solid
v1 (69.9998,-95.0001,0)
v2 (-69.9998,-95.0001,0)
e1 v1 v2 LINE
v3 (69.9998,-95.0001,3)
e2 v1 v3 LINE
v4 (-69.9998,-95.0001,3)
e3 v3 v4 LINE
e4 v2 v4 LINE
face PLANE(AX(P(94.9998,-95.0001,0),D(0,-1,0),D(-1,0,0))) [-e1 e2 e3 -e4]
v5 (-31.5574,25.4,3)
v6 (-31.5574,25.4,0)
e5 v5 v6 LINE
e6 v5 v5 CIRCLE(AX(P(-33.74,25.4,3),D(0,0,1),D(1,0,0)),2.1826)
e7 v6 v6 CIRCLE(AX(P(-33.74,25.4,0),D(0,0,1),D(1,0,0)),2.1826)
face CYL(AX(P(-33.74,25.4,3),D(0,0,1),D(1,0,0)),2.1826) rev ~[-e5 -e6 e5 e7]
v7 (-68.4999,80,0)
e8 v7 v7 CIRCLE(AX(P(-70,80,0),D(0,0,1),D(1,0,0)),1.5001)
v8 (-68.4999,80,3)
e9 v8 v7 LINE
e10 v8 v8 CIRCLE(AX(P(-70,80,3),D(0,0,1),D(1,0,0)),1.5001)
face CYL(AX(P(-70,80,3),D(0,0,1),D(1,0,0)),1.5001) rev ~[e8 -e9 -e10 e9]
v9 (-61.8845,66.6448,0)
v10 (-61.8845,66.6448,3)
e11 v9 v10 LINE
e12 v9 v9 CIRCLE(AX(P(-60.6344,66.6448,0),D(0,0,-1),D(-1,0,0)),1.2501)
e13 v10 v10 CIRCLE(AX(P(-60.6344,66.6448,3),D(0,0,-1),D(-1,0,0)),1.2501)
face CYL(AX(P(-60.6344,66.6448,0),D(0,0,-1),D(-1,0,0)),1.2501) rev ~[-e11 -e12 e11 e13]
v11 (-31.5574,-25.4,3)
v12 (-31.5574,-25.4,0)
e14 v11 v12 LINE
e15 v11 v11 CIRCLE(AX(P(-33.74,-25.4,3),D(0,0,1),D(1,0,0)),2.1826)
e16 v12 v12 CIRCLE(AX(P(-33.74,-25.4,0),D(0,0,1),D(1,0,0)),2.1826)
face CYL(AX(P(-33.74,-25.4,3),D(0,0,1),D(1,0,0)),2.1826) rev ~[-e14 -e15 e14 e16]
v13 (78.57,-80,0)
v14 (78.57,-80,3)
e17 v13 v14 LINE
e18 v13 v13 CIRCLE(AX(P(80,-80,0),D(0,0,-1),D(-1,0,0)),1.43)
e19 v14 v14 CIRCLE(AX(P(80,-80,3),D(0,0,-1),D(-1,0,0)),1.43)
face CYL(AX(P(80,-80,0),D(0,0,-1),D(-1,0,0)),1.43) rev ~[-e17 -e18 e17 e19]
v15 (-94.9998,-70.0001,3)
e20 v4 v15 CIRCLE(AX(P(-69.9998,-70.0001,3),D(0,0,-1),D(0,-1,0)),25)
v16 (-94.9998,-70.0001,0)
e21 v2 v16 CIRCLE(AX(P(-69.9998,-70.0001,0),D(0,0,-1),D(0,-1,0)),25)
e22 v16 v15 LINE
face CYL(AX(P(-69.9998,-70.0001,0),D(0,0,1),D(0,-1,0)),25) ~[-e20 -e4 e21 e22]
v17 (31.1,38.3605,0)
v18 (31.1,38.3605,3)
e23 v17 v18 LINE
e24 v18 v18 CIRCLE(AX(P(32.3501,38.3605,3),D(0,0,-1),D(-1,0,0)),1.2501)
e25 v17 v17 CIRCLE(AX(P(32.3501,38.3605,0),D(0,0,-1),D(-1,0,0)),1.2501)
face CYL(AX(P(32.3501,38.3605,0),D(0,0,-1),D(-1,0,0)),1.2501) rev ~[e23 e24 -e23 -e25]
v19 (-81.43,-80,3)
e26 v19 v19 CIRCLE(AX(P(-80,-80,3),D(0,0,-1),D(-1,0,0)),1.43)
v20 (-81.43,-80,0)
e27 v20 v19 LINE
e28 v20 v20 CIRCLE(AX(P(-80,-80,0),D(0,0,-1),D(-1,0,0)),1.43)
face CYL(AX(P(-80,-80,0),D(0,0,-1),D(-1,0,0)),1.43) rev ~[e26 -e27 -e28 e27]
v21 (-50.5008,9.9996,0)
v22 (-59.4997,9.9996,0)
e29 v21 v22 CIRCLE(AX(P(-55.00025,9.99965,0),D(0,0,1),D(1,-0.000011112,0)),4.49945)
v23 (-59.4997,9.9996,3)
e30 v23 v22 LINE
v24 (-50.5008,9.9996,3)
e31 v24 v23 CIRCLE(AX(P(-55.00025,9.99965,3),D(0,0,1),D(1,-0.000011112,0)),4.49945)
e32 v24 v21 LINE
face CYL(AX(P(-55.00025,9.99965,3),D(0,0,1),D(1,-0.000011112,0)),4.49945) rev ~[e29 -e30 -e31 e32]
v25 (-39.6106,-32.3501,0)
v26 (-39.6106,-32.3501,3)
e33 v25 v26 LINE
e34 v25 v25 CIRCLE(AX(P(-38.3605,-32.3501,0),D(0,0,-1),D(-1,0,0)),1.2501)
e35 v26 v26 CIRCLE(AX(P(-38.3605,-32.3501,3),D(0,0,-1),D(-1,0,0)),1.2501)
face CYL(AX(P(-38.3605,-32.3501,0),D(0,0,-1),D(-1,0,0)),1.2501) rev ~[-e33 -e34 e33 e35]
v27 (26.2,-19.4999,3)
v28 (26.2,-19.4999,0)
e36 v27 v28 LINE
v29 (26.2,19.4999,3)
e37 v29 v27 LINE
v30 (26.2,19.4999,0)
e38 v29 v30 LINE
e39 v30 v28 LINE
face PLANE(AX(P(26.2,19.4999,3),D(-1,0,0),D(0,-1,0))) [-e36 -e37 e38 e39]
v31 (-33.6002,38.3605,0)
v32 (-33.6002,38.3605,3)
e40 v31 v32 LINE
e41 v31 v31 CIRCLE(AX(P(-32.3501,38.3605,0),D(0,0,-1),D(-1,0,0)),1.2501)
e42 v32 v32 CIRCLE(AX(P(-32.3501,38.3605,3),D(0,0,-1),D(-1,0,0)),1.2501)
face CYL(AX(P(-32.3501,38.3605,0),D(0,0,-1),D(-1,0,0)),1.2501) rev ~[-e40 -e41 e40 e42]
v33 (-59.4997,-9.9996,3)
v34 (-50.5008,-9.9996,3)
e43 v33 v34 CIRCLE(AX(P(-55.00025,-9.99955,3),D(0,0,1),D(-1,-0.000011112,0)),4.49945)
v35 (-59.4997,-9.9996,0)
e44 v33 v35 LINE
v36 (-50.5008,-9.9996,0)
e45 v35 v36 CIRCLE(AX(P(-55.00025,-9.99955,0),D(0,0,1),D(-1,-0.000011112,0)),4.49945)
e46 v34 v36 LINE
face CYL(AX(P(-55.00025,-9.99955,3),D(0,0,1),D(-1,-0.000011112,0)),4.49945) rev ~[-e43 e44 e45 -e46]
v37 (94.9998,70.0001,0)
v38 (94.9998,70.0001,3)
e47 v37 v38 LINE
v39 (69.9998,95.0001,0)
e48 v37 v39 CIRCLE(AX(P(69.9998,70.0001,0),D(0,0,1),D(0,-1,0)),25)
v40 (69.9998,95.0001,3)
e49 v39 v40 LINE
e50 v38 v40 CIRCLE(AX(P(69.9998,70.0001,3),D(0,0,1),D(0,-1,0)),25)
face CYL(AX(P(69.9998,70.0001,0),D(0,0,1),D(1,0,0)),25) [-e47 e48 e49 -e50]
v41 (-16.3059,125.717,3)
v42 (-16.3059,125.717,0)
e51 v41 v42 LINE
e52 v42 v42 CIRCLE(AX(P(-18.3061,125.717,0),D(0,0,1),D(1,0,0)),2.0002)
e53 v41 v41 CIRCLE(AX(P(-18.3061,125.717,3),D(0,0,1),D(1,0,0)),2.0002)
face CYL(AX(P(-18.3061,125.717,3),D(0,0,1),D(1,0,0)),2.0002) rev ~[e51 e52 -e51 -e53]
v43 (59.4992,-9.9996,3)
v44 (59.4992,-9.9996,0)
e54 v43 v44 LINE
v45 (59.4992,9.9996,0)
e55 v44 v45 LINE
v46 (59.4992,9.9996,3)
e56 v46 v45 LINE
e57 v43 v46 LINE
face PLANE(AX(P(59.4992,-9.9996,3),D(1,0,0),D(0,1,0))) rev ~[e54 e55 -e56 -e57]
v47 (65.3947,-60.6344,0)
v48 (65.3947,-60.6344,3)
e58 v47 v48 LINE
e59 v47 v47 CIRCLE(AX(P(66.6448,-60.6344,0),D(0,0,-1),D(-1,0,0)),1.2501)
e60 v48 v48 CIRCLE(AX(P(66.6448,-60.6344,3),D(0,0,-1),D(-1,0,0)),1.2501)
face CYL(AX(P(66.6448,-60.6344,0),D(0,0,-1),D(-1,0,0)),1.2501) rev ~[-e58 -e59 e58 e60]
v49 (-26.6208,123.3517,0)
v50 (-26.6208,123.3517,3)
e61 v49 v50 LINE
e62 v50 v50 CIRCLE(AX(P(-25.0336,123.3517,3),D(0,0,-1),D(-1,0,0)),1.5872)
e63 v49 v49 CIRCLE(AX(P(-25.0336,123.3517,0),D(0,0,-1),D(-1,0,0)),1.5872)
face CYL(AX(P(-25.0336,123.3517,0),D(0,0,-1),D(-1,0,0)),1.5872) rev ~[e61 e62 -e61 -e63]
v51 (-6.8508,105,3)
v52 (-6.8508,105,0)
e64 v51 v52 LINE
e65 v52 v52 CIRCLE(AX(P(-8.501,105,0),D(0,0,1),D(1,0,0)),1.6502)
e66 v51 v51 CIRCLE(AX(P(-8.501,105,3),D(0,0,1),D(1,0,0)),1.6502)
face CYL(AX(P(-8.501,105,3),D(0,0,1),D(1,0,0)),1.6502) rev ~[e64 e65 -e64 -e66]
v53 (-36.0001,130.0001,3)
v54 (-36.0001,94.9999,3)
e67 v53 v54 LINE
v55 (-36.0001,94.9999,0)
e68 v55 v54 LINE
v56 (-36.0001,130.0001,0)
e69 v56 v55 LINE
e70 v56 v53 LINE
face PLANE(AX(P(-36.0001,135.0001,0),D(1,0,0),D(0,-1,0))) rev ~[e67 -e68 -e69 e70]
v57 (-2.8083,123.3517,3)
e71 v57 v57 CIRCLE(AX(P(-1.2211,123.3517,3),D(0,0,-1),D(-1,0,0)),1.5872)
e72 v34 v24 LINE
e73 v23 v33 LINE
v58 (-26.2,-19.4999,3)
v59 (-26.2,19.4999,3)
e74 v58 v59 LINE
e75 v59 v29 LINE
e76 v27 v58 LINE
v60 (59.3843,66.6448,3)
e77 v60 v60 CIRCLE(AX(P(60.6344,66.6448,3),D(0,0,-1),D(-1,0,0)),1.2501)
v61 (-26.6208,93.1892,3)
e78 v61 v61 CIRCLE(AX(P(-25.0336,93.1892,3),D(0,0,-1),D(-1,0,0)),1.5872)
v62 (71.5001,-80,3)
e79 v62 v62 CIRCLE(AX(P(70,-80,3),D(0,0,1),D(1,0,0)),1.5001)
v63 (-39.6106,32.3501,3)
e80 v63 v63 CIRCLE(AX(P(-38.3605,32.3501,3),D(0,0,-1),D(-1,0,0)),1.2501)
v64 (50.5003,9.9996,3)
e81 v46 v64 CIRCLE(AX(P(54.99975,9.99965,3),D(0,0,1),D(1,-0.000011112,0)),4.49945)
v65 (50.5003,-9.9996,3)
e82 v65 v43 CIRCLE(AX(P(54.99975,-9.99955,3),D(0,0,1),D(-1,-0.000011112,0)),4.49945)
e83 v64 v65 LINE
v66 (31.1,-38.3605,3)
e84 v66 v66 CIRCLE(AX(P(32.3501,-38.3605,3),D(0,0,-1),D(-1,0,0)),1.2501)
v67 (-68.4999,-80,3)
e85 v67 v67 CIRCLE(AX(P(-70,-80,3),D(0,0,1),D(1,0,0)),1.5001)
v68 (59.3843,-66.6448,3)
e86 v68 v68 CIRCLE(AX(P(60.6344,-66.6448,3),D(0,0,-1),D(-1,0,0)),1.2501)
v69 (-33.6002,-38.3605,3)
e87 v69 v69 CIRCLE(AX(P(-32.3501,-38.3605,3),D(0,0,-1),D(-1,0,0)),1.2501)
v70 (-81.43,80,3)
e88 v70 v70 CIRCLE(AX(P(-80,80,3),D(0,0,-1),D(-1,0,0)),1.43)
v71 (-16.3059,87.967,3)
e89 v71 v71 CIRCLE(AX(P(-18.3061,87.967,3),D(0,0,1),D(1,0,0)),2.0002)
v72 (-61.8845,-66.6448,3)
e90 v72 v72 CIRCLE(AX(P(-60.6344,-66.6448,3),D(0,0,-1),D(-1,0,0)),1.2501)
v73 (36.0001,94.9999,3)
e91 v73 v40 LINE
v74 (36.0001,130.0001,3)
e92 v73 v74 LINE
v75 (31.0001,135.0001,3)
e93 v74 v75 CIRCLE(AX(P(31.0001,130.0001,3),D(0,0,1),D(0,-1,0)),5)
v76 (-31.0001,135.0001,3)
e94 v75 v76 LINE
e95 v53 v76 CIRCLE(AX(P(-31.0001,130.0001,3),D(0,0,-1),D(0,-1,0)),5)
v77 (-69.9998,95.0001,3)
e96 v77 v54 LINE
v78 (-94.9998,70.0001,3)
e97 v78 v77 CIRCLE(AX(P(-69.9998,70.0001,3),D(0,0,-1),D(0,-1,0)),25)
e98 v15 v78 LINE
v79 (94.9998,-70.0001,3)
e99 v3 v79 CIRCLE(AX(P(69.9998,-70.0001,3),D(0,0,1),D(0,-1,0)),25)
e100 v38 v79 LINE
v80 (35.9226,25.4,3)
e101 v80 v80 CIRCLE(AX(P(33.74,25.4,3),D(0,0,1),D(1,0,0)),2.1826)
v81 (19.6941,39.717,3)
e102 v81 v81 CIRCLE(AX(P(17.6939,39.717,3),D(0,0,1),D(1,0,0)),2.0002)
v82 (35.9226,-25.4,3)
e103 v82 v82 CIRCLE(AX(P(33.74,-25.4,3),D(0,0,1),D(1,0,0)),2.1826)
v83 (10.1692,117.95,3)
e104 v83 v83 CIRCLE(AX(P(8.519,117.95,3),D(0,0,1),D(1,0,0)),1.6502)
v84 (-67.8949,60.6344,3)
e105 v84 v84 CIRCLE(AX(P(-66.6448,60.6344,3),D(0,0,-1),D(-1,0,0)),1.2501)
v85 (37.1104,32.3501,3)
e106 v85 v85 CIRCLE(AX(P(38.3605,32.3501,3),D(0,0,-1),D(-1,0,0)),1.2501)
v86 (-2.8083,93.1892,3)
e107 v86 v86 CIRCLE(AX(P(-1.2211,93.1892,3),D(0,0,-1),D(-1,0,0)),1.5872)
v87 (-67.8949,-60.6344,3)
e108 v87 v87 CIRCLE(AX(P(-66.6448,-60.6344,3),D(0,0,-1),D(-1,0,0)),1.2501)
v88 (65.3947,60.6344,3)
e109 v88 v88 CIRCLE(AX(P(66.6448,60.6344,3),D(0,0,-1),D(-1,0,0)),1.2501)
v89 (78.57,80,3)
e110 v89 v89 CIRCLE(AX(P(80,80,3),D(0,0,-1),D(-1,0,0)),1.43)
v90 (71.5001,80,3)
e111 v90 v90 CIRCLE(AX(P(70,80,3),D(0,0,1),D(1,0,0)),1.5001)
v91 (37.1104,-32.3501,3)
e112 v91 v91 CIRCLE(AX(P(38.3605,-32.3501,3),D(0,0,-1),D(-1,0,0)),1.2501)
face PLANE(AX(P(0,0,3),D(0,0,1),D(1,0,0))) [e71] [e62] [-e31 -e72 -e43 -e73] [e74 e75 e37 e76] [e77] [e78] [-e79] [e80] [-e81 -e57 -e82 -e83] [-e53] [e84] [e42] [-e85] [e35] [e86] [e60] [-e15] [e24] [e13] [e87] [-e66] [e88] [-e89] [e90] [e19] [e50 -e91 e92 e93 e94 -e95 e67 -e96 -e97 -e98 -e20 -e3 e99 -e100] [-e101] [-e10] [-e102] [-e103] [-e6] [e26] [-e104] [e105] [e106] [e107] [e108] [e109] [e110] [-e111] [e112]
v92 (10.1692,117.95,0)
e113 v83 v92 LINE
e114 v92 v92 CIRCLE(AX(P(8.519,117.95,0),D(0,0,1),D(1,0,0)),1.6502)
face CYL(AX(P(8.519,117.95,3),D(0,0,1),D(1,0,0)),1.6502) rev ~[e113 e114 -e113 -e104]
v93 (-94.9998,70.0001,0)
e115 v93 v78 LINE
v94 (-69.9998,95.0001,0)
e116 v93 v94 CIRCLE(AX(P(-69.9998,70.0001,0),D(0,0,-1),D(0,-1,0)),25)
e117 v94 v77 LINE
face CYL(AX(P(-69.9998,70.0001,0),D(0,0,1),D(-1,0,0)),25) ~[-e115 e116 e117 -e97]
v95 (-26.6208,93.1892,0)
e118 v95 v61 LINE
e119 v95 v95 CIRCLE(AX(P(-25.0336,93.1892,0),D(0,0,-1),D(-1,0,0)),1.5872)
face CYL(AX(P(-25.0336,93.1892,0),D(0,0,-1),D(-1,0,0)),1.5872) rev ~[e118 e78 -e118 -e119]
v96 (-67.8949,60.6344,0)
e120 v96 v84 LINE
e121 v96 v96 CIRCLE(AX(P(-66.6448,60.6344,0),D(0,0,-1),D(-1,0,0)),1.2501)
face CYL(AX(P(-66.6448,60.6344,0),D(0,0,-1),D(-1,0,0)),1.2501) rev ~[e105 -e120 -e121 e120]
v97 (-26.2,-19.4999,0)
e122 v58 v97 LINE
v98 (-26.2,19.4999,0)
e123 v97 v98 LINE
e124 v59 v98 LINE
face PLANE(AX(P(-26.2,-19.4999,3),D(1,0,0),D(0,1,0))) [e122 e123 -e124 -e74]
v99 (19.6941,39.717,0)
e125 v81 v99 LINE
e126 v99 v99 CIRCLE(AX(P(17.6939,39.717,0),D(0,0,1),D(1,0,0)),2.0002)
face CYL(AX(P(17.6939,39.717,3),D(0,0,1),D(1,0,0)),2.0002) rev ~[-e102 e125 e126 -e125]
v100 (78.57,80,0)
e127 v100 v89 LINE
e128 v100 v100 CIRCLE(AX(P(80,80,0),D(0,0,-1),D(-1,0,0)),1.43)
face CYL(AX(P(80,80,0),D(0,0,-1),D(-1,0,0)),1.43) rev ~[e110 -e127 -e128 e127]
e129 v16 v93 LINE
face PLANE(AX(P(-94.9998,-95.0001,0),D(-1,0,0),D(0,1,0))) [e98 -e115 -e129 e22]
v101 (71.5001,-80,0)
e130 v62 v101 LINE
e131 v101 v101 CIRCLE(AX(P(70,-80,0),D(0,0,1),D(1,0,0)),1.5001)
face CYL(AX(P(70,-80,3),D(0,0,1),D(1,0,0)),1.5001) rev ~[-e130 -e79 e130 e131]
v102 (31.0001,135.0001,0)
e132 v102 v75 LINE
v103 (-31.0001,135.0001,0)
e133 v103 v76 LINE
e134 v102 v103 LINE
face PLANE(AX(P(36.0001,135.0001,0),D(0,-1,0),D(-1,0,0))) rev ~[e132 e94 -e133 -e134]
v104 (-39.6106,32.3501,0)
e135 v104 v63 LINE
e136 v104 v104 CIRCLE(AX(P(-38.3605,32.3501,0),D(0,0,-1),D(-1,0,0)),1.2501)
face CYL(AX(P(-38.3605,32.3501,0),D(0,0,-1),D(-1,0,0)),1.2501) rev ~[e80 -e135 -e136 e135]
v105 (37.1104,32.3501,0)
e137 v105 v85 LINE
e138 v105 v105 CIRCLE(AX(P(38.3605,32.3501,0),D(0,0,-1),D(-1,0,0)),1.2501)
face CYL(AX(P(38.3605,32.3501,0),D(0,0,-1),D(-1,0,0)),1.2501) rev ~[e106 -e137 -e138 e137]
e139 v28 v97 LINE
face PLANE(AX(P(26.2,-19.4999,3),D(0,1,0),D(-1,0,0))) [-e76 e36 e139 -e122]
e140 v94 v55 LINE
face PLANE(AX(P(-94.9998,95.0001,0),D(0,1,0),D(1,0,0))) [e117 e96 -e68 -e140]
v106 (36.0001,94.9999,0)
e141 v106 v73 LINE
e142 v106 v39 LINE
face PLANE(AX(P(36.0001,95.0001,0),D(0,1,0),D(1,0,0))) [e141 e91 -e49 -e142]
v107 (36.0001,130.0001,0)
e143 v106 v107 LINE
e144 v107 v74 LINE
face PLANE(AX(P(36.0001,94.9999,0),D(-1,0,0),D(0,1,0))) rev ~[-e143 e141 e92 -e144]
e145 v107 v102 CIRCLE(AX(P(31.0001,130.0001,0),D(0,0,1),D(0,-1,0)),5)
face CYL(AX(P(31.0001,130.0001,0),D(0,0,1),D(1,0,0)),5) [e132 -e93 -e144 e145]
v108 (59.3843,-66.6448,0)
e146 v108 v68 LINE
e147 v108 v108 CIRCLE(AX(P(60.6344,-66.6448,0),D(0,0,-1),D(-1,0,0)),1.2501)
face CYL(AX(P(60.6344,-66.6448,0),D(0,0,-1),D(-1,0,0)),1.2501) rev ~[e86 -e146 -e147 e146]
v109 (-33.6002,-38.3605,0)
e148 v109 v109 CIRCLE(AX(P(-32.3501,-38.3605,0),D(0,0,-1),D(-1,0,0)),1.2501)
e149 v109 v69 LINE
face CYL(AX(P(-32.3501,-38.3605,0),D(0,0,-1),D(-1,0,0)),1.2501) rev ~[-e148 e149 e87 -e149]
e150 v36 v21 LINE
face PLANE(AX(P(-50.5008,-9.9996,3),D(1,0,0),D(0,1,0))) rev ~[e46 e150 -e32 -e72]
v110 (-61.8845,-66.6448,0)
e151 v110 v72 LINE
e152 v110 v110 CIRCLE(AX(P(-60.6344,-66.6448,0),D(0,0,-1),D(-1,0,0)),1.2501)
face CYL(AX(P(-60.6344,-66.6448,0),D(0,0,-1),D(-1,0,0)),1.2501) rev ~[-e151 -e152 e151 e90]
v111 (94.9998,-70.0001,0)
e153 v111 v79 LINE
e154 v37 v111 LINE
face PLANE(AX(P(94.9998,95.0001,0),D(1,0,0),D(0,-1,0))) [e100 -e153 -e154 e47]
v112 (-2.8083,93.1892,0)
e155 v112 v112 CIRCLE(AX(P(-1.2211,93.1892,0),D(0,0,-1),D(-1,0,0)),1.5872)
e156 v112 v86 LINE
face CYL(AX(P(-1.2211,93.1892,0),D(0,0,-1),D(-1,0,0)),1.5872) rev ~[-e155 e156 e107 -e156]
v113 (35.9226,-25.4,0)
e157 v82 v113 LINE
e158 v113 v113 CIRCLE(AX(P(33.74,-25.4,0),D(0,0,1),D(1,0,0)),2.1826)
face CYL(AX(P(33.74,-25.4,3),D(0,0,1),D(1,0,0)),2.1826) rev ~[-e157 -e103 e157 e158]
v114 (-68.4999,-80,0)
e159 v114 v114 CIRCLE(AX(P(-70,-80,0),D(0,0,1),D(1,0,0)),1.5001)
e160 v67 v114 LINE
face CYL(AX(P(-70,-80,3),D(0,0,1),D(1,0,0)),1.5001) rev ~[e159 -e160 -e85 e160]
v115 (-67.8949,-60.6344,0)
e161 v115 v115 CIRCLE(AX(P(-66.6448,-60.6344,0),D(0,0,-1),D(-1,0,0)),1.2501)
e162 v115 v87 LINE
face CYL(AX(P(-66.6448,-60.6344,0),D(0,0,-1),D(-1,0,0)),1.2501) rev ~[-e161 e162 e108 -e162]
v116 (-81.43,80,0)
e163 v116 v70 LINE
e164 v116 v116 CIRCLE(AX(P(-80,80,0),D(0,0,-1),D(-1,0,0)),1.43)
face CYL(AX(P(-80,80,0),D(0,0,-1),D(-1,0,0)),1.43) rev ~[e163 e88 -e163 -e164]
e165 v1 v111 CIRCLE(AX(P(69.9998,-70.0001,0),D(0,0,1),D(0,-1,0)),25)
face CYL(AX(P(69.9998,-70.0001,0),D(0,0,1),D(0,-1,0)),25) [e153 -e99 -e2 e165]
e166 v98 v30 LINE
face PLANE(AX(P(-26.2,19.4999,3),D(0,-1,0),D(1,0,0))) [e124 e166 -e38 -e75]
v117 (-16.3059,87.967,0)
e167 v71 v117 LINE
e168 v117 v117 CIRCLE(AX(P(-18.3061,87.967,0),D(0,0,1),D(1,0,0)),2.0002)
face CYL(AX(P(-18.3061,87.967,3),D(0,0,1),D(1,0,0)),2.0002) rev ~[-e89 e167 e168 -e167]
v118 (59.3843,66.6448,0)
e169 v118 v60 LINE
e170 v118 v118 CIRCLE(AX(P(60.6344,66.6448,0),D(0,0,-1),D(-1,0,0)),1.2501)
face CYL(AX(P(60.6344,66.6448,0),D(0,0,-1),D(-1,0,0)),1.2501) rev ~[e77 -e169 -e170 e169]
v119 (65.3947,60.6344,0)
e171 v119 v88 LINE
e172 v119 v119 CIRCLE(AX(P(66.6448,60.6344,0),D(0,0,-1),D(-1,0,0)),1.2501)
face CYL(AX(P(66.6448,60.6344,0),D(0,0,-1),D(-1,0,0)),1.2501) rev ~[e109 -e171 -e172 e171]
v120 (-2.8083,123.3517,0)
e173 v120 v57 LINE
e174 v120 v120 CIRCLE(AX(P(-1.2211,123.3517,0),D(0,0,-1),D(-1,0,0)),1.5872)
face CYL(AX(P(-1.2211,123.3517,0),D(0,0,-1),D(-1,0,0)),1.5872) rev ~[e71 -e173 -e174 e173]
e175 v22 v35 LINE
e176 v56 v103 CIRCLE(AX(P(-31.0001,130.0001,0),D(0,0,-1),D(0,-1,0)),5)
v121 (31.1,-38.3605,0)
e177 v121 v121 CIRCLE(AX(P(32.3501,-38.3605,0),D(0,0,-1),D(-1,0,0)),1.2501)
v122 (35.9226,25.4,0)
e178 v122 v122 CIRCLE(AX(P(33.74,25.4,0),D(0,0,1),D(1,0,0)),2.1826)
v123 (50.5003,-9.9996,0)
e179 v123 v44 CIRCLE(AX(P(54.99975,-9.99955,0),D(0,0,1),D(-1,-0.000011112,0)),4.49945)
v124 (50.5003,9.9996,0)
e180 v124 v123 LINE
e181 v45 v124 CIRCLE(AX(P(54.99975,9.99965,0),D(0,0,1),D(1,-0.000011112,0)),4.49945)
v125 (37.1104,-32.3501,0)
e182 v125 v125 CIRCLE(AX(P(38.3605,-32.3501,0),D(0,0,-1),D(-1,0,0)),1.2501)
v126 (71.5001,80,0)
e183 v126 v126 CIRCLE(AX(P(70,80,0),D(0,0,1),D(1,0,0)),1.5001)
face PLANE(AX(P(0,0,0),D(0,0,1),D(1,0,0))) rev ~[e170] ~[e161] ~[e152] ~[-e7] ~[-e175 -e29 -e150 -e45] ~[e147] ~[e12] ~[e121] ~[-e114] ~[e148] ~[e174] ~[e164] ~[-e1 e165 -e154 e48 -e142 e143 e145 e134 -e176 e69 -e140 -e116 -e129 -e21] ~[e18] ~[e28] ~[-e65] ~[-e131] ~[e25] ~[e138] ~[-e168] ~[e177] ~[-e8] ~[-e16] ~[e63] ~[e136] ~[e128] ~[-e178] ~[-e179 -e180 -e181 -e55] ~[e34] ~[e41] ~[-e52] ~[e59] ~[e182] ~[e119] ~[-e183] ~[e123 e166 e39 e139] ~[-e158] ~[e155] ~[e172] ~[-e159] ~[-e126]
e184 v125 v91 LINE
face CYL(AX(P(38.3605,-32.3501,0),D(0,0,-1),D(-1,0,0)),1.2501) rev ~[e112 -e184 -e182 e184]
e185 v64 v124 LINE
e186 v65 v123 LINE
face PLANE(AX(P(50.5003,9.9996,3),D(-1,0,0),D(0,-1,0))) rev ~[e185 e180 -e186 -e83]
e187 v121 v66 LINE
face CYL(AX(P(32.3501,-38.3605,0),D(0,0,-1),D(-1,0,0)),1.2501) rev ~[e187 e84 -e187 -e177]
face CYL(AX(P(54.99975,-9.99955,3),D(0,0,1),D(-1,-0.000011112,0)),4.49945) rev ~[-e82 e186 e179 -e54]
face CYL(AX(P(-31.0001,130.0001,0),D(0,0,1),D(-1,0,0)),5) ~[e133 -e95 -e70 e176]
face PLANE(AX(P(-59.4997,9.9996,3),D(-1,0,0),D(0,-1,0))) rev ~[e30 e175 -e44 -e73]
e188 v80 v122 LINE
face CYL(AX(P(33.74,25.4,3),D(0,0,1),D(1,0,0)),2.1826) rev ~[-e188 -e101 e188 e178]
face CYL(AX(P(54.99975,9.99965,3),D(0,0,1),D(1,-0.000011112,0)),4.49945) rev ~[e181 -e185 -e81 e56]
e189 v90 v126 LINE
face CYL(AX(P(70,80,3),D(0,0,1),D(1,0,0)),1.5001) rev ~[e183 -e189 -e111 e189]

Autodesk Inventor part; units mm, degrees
ref_plane "YZ Plane" through (0, 0, 0) normal (1, 0, 0) x (0, 1, 0)
ref_plane "XZ Plane" through (0, 0, 0) normal (0, 1, 0) x (-1, 0, 0)
ref_plane "XY Plane" through (0, 0, 0) normal (0, 0, 1) x (1, 0, 0)
sketch "Sketch1" plane through (0, 0, 0) normal (0, 0, 1) x (1, 0, 0)
  point P0 (0, 0)
sketch "Sketch2" plane through (0, 0, 0) normal (0, 0, 1) x (1, 0, 0)
  line L0 (94.9998, -95.0001) -> (-94.9998, -95.0001)
  line L1 (-94.9998, -95.0001) -> (-94.9998, 95.0001)
  line L2 (-94.9998, 95.0001) -> (94.9998, 95.0001)
  line L3 (94.9998, 95.0001) -> (94.9998, -95.0001)
  line L4 (94.9998, -95.0001) -> (-94.9998, 95.0001) construction
  line L5 (-94.9998, -95.0001) -> (94.9998, 95.0001) construction
  line L6 (-36.0001, 94.9999) -> (36.0001, 94.9999)
  line L7 (36.0001, 94.9999) -> (36.0001, 135.0001)
  line L8 (36.0001, 135.0001) -> (-36.0001, 135.0001)
  line L9 (-36.0001, 135.0001) -> (-36.0001, 94.9999)
  line L10 (-36.0001, 94.9999) -> (36.0001, 135.0001) construction
  line L11 (36.0001, 94.9999) -> (-36.0001, 135.0001) construction
  point P0 (0, 115)
  point P1 (-36.0001, 95.0001)
  point P2 (36.0001, 95.0001)
extrude "Extrusion1" add sketch "Sketch2" along normal blind 3
sketch "Standoff holes" plane through (0, 0, 3) normal (0, 0, 1) x (1, 0, 0)
  circle A0 centre (70, 80) radius 1.5001
  circle A1 centre (70, -80) radius 1.5001
  circle A2 centre (-70, 80) radius 1.5001
  circle A3 centre (-70, -80) radius 1.5001
extrude "Extrusion2" cut sketch "Standoff holes" against normal blind 3
fillet "Fillet5" radius 25 4 edges at (-94.9998, 95.0001, 1.5) (94.9998, 95.0001, 1.5) (-94.9998, -95.0001, 1.5) (94.9998, -95.0001, 1.5)
fillet "Fillet6" radius 5 2 edges at (-36.0001, 135.0001, 1.5) (36.0001, 135.0001, 1.5)
sketch "Large Hammond mount holes" plane through (0, 0, 3) normal (0, 0, 1) x (1, 0, 0)
  circle A0 centre (17.6939, 39.717) radius 2.0002
  circle A1 centre (-18.3061, 125.717) radius 2.0002
  circle A2 centre (-18.3061, 87.967) radius 2.0002
sketch "PX4FLOW mount holes" plane through (0, 0, 0) normal (0, 0, -1) x (-1, 0, 0)
  circle A0 centre (25.0336, 123.3517) radius 1.5872
  circle A1 centre (1.2211, 123.3517) radius 1.5872
  circle A2 centre (1.2211, 123.3517) radius 1.5872
  circle A3 centre (1.2211, 93.1892) radius 1.5872
  circle A4 centre (25.0336, 93.1892) radius 1.5872
sketch "Guard rails mount holes" plane through (0, 0, 0) normal (0, 0, -1) x (-1, 0, 0)
  circle A0 centre (-32.3501, 38.3605) radius 1.2501
  circle A1 centre (-38.3605, 32.3501) radius 1.2501
  circle A2 centre (-60.6344, 66.6448) radius 1.2501
  circle A3 centre (-66.6448, 60.6344) radius 1.2501
  circle A4 centre (-38.3605, -32.3501) radius 1.2501
  circle A5 centre (-32.3501, -38.3605) radius 1.2501
  circle A6 centre (-66.6448, -60.6344) radius 1.2501
  circle A7 centre (-60.6344, -66.6448) radius 1.2501
  circle A8 centre (32.3501, -38.3605) radius 1.2501
  circle A9 centre (38.3605, -32.3501) radius 1.2501
  circle A10 centre (60.6344, -66.6448) radius 1.2501
  circle A11 centre (66.6448, -60.6344) radius 1.2501
  circle A12 centre (38.3605, 32.3501) radius 1.2501
  circle A13 centre (32.3501, 38.3605) radius 1.2501
  circle A14 centre (66.6448, 60.6344) radius 1.2501
  circle A15 centre (60.6344, 66.6448) radius 1.2501
sketch "Imperial standoffs" plane through (0, 0, 0) normal (0, 0, -1) x (-1, 0, 0)
  circle A0 centre (80, 80) radius 1.43
  circle A1 centre (-80, 80) radius 1.43
  circle A2 centre (-80, -80) radius 1.43
  circle A3 centre (80, -80) radius 1.43
extrude "Extrusion4" cut sketch "Large Hammond mount holes" against normal blind 10
extrude "Extrusion5" cut sketch "PX4FLOW mount holes" against normal blind 10
extrude "Extrusion6" cut sketch "Guard rails mount holes" against normal blind 10
extrude "Extrusion7" cut sketch "Imperial standoffs" against normal blind 10
sketch "Dual pol balun cutout" plane through (0, 0, 3) normal (0, 0, 1) x (1, 0, 0)
  line L0 (26.2, -19.4999) -> (-26.2, -19.4999)
  line L1 (-26.2, -19.4999) -> (-26.2, 19.4999)
  line L2 (-26.2, 19.4999) -> (26.2, 19.4999)
  line L3 (26.2, 19.4999) -> (26.2, -19.4999)
  line L4 (26.2, -19.4999) -> (-26.2, 19.4999) construction
  line L5 (-26.2, -19.4999) -> (26.2, 19.4999) construction
  point P0 (0, 0)
extrude "Extrusion8" cut sketch "Dual pol balun cutout" against normal blind 10
sketch "SONAR_holes" plane through (0, 0, 3) normal (0, 0, 1) x (1, 0, 0)
  circle A0 centre (-8.501, 105) radius 1.6502
  circle A1 centre (8.519, 117.95) radius 1.6502
extrude "Extrusion9" cut sketch "SONAR_holes" against normal blind 10
sketch "SONAR cutouts" plane through (0, 0, 3) normal (0, 0, 1) x (1, 0, 0)
  line L0 (-55.0003, -9.9996) -> (-55.0003, 9.9996) construction
  line L1 (-50.5008, -9.9996) -> (-50.5008, 9.9996)
  line L2 (-59.4997, 9.9996) -> (-59.4997, -9.9996)
  arc A0 (-59.4997, -9.9996) -> (-50.5008, -9.9996) centre (-55.0003, -9.9996) ccw
  arc A1 (-50.5008, 9.9996) -> (-59.4997, 9.9996) centre (-55.0003, 9.9996) ccw
  line L3 (54.9997, -9.9996) -> (54.9997, 9.9996) construction
  line L4 (59.4992, -9.9996) -> (59.4992, 9.9996)
  line L5 (50.5003, 9.9996) -> (50.5003, -9.9996)
  arc A2 (50.5003, -9.9996) -> (59.4992, -9.9996) centre (54.9997, -9.9996) ccw
  arc A3 (59.4992, 9.9996) -> (50.5003, 9.9996) centre (54.9997, 9.9996) ccw
  point P0 (0, 0)
  point P1 (-55.0003, 0)
  point P2 (54.9997, 0)
extrude "Extrusion10" cut sketch "SONAR cutouts" against normal blind 10
sketch "balun_support_holes" plane through (0, 0, 3) normal (0, 0, 1) x (1, 0, 0)
  circle A0 centre (0, 0) radius 2.1826
  circle A1 centre (33.74, 25.4) radius 2.1826
  circle A2 centre (33.74, -25.4) radius 2.1826
  circle A3 centre (-33.74, -25.4) radius 2.1826
  circle A4 centre (-33.74, 25.4) radius 2.1826
extrude "Extrusion13" cut sketch "balun_support_holes" against normal blind 10 contours A1 | A2 | A3 | A4
properties part number "payload_bay_square_dual_pol_balun" material "CFRP"
